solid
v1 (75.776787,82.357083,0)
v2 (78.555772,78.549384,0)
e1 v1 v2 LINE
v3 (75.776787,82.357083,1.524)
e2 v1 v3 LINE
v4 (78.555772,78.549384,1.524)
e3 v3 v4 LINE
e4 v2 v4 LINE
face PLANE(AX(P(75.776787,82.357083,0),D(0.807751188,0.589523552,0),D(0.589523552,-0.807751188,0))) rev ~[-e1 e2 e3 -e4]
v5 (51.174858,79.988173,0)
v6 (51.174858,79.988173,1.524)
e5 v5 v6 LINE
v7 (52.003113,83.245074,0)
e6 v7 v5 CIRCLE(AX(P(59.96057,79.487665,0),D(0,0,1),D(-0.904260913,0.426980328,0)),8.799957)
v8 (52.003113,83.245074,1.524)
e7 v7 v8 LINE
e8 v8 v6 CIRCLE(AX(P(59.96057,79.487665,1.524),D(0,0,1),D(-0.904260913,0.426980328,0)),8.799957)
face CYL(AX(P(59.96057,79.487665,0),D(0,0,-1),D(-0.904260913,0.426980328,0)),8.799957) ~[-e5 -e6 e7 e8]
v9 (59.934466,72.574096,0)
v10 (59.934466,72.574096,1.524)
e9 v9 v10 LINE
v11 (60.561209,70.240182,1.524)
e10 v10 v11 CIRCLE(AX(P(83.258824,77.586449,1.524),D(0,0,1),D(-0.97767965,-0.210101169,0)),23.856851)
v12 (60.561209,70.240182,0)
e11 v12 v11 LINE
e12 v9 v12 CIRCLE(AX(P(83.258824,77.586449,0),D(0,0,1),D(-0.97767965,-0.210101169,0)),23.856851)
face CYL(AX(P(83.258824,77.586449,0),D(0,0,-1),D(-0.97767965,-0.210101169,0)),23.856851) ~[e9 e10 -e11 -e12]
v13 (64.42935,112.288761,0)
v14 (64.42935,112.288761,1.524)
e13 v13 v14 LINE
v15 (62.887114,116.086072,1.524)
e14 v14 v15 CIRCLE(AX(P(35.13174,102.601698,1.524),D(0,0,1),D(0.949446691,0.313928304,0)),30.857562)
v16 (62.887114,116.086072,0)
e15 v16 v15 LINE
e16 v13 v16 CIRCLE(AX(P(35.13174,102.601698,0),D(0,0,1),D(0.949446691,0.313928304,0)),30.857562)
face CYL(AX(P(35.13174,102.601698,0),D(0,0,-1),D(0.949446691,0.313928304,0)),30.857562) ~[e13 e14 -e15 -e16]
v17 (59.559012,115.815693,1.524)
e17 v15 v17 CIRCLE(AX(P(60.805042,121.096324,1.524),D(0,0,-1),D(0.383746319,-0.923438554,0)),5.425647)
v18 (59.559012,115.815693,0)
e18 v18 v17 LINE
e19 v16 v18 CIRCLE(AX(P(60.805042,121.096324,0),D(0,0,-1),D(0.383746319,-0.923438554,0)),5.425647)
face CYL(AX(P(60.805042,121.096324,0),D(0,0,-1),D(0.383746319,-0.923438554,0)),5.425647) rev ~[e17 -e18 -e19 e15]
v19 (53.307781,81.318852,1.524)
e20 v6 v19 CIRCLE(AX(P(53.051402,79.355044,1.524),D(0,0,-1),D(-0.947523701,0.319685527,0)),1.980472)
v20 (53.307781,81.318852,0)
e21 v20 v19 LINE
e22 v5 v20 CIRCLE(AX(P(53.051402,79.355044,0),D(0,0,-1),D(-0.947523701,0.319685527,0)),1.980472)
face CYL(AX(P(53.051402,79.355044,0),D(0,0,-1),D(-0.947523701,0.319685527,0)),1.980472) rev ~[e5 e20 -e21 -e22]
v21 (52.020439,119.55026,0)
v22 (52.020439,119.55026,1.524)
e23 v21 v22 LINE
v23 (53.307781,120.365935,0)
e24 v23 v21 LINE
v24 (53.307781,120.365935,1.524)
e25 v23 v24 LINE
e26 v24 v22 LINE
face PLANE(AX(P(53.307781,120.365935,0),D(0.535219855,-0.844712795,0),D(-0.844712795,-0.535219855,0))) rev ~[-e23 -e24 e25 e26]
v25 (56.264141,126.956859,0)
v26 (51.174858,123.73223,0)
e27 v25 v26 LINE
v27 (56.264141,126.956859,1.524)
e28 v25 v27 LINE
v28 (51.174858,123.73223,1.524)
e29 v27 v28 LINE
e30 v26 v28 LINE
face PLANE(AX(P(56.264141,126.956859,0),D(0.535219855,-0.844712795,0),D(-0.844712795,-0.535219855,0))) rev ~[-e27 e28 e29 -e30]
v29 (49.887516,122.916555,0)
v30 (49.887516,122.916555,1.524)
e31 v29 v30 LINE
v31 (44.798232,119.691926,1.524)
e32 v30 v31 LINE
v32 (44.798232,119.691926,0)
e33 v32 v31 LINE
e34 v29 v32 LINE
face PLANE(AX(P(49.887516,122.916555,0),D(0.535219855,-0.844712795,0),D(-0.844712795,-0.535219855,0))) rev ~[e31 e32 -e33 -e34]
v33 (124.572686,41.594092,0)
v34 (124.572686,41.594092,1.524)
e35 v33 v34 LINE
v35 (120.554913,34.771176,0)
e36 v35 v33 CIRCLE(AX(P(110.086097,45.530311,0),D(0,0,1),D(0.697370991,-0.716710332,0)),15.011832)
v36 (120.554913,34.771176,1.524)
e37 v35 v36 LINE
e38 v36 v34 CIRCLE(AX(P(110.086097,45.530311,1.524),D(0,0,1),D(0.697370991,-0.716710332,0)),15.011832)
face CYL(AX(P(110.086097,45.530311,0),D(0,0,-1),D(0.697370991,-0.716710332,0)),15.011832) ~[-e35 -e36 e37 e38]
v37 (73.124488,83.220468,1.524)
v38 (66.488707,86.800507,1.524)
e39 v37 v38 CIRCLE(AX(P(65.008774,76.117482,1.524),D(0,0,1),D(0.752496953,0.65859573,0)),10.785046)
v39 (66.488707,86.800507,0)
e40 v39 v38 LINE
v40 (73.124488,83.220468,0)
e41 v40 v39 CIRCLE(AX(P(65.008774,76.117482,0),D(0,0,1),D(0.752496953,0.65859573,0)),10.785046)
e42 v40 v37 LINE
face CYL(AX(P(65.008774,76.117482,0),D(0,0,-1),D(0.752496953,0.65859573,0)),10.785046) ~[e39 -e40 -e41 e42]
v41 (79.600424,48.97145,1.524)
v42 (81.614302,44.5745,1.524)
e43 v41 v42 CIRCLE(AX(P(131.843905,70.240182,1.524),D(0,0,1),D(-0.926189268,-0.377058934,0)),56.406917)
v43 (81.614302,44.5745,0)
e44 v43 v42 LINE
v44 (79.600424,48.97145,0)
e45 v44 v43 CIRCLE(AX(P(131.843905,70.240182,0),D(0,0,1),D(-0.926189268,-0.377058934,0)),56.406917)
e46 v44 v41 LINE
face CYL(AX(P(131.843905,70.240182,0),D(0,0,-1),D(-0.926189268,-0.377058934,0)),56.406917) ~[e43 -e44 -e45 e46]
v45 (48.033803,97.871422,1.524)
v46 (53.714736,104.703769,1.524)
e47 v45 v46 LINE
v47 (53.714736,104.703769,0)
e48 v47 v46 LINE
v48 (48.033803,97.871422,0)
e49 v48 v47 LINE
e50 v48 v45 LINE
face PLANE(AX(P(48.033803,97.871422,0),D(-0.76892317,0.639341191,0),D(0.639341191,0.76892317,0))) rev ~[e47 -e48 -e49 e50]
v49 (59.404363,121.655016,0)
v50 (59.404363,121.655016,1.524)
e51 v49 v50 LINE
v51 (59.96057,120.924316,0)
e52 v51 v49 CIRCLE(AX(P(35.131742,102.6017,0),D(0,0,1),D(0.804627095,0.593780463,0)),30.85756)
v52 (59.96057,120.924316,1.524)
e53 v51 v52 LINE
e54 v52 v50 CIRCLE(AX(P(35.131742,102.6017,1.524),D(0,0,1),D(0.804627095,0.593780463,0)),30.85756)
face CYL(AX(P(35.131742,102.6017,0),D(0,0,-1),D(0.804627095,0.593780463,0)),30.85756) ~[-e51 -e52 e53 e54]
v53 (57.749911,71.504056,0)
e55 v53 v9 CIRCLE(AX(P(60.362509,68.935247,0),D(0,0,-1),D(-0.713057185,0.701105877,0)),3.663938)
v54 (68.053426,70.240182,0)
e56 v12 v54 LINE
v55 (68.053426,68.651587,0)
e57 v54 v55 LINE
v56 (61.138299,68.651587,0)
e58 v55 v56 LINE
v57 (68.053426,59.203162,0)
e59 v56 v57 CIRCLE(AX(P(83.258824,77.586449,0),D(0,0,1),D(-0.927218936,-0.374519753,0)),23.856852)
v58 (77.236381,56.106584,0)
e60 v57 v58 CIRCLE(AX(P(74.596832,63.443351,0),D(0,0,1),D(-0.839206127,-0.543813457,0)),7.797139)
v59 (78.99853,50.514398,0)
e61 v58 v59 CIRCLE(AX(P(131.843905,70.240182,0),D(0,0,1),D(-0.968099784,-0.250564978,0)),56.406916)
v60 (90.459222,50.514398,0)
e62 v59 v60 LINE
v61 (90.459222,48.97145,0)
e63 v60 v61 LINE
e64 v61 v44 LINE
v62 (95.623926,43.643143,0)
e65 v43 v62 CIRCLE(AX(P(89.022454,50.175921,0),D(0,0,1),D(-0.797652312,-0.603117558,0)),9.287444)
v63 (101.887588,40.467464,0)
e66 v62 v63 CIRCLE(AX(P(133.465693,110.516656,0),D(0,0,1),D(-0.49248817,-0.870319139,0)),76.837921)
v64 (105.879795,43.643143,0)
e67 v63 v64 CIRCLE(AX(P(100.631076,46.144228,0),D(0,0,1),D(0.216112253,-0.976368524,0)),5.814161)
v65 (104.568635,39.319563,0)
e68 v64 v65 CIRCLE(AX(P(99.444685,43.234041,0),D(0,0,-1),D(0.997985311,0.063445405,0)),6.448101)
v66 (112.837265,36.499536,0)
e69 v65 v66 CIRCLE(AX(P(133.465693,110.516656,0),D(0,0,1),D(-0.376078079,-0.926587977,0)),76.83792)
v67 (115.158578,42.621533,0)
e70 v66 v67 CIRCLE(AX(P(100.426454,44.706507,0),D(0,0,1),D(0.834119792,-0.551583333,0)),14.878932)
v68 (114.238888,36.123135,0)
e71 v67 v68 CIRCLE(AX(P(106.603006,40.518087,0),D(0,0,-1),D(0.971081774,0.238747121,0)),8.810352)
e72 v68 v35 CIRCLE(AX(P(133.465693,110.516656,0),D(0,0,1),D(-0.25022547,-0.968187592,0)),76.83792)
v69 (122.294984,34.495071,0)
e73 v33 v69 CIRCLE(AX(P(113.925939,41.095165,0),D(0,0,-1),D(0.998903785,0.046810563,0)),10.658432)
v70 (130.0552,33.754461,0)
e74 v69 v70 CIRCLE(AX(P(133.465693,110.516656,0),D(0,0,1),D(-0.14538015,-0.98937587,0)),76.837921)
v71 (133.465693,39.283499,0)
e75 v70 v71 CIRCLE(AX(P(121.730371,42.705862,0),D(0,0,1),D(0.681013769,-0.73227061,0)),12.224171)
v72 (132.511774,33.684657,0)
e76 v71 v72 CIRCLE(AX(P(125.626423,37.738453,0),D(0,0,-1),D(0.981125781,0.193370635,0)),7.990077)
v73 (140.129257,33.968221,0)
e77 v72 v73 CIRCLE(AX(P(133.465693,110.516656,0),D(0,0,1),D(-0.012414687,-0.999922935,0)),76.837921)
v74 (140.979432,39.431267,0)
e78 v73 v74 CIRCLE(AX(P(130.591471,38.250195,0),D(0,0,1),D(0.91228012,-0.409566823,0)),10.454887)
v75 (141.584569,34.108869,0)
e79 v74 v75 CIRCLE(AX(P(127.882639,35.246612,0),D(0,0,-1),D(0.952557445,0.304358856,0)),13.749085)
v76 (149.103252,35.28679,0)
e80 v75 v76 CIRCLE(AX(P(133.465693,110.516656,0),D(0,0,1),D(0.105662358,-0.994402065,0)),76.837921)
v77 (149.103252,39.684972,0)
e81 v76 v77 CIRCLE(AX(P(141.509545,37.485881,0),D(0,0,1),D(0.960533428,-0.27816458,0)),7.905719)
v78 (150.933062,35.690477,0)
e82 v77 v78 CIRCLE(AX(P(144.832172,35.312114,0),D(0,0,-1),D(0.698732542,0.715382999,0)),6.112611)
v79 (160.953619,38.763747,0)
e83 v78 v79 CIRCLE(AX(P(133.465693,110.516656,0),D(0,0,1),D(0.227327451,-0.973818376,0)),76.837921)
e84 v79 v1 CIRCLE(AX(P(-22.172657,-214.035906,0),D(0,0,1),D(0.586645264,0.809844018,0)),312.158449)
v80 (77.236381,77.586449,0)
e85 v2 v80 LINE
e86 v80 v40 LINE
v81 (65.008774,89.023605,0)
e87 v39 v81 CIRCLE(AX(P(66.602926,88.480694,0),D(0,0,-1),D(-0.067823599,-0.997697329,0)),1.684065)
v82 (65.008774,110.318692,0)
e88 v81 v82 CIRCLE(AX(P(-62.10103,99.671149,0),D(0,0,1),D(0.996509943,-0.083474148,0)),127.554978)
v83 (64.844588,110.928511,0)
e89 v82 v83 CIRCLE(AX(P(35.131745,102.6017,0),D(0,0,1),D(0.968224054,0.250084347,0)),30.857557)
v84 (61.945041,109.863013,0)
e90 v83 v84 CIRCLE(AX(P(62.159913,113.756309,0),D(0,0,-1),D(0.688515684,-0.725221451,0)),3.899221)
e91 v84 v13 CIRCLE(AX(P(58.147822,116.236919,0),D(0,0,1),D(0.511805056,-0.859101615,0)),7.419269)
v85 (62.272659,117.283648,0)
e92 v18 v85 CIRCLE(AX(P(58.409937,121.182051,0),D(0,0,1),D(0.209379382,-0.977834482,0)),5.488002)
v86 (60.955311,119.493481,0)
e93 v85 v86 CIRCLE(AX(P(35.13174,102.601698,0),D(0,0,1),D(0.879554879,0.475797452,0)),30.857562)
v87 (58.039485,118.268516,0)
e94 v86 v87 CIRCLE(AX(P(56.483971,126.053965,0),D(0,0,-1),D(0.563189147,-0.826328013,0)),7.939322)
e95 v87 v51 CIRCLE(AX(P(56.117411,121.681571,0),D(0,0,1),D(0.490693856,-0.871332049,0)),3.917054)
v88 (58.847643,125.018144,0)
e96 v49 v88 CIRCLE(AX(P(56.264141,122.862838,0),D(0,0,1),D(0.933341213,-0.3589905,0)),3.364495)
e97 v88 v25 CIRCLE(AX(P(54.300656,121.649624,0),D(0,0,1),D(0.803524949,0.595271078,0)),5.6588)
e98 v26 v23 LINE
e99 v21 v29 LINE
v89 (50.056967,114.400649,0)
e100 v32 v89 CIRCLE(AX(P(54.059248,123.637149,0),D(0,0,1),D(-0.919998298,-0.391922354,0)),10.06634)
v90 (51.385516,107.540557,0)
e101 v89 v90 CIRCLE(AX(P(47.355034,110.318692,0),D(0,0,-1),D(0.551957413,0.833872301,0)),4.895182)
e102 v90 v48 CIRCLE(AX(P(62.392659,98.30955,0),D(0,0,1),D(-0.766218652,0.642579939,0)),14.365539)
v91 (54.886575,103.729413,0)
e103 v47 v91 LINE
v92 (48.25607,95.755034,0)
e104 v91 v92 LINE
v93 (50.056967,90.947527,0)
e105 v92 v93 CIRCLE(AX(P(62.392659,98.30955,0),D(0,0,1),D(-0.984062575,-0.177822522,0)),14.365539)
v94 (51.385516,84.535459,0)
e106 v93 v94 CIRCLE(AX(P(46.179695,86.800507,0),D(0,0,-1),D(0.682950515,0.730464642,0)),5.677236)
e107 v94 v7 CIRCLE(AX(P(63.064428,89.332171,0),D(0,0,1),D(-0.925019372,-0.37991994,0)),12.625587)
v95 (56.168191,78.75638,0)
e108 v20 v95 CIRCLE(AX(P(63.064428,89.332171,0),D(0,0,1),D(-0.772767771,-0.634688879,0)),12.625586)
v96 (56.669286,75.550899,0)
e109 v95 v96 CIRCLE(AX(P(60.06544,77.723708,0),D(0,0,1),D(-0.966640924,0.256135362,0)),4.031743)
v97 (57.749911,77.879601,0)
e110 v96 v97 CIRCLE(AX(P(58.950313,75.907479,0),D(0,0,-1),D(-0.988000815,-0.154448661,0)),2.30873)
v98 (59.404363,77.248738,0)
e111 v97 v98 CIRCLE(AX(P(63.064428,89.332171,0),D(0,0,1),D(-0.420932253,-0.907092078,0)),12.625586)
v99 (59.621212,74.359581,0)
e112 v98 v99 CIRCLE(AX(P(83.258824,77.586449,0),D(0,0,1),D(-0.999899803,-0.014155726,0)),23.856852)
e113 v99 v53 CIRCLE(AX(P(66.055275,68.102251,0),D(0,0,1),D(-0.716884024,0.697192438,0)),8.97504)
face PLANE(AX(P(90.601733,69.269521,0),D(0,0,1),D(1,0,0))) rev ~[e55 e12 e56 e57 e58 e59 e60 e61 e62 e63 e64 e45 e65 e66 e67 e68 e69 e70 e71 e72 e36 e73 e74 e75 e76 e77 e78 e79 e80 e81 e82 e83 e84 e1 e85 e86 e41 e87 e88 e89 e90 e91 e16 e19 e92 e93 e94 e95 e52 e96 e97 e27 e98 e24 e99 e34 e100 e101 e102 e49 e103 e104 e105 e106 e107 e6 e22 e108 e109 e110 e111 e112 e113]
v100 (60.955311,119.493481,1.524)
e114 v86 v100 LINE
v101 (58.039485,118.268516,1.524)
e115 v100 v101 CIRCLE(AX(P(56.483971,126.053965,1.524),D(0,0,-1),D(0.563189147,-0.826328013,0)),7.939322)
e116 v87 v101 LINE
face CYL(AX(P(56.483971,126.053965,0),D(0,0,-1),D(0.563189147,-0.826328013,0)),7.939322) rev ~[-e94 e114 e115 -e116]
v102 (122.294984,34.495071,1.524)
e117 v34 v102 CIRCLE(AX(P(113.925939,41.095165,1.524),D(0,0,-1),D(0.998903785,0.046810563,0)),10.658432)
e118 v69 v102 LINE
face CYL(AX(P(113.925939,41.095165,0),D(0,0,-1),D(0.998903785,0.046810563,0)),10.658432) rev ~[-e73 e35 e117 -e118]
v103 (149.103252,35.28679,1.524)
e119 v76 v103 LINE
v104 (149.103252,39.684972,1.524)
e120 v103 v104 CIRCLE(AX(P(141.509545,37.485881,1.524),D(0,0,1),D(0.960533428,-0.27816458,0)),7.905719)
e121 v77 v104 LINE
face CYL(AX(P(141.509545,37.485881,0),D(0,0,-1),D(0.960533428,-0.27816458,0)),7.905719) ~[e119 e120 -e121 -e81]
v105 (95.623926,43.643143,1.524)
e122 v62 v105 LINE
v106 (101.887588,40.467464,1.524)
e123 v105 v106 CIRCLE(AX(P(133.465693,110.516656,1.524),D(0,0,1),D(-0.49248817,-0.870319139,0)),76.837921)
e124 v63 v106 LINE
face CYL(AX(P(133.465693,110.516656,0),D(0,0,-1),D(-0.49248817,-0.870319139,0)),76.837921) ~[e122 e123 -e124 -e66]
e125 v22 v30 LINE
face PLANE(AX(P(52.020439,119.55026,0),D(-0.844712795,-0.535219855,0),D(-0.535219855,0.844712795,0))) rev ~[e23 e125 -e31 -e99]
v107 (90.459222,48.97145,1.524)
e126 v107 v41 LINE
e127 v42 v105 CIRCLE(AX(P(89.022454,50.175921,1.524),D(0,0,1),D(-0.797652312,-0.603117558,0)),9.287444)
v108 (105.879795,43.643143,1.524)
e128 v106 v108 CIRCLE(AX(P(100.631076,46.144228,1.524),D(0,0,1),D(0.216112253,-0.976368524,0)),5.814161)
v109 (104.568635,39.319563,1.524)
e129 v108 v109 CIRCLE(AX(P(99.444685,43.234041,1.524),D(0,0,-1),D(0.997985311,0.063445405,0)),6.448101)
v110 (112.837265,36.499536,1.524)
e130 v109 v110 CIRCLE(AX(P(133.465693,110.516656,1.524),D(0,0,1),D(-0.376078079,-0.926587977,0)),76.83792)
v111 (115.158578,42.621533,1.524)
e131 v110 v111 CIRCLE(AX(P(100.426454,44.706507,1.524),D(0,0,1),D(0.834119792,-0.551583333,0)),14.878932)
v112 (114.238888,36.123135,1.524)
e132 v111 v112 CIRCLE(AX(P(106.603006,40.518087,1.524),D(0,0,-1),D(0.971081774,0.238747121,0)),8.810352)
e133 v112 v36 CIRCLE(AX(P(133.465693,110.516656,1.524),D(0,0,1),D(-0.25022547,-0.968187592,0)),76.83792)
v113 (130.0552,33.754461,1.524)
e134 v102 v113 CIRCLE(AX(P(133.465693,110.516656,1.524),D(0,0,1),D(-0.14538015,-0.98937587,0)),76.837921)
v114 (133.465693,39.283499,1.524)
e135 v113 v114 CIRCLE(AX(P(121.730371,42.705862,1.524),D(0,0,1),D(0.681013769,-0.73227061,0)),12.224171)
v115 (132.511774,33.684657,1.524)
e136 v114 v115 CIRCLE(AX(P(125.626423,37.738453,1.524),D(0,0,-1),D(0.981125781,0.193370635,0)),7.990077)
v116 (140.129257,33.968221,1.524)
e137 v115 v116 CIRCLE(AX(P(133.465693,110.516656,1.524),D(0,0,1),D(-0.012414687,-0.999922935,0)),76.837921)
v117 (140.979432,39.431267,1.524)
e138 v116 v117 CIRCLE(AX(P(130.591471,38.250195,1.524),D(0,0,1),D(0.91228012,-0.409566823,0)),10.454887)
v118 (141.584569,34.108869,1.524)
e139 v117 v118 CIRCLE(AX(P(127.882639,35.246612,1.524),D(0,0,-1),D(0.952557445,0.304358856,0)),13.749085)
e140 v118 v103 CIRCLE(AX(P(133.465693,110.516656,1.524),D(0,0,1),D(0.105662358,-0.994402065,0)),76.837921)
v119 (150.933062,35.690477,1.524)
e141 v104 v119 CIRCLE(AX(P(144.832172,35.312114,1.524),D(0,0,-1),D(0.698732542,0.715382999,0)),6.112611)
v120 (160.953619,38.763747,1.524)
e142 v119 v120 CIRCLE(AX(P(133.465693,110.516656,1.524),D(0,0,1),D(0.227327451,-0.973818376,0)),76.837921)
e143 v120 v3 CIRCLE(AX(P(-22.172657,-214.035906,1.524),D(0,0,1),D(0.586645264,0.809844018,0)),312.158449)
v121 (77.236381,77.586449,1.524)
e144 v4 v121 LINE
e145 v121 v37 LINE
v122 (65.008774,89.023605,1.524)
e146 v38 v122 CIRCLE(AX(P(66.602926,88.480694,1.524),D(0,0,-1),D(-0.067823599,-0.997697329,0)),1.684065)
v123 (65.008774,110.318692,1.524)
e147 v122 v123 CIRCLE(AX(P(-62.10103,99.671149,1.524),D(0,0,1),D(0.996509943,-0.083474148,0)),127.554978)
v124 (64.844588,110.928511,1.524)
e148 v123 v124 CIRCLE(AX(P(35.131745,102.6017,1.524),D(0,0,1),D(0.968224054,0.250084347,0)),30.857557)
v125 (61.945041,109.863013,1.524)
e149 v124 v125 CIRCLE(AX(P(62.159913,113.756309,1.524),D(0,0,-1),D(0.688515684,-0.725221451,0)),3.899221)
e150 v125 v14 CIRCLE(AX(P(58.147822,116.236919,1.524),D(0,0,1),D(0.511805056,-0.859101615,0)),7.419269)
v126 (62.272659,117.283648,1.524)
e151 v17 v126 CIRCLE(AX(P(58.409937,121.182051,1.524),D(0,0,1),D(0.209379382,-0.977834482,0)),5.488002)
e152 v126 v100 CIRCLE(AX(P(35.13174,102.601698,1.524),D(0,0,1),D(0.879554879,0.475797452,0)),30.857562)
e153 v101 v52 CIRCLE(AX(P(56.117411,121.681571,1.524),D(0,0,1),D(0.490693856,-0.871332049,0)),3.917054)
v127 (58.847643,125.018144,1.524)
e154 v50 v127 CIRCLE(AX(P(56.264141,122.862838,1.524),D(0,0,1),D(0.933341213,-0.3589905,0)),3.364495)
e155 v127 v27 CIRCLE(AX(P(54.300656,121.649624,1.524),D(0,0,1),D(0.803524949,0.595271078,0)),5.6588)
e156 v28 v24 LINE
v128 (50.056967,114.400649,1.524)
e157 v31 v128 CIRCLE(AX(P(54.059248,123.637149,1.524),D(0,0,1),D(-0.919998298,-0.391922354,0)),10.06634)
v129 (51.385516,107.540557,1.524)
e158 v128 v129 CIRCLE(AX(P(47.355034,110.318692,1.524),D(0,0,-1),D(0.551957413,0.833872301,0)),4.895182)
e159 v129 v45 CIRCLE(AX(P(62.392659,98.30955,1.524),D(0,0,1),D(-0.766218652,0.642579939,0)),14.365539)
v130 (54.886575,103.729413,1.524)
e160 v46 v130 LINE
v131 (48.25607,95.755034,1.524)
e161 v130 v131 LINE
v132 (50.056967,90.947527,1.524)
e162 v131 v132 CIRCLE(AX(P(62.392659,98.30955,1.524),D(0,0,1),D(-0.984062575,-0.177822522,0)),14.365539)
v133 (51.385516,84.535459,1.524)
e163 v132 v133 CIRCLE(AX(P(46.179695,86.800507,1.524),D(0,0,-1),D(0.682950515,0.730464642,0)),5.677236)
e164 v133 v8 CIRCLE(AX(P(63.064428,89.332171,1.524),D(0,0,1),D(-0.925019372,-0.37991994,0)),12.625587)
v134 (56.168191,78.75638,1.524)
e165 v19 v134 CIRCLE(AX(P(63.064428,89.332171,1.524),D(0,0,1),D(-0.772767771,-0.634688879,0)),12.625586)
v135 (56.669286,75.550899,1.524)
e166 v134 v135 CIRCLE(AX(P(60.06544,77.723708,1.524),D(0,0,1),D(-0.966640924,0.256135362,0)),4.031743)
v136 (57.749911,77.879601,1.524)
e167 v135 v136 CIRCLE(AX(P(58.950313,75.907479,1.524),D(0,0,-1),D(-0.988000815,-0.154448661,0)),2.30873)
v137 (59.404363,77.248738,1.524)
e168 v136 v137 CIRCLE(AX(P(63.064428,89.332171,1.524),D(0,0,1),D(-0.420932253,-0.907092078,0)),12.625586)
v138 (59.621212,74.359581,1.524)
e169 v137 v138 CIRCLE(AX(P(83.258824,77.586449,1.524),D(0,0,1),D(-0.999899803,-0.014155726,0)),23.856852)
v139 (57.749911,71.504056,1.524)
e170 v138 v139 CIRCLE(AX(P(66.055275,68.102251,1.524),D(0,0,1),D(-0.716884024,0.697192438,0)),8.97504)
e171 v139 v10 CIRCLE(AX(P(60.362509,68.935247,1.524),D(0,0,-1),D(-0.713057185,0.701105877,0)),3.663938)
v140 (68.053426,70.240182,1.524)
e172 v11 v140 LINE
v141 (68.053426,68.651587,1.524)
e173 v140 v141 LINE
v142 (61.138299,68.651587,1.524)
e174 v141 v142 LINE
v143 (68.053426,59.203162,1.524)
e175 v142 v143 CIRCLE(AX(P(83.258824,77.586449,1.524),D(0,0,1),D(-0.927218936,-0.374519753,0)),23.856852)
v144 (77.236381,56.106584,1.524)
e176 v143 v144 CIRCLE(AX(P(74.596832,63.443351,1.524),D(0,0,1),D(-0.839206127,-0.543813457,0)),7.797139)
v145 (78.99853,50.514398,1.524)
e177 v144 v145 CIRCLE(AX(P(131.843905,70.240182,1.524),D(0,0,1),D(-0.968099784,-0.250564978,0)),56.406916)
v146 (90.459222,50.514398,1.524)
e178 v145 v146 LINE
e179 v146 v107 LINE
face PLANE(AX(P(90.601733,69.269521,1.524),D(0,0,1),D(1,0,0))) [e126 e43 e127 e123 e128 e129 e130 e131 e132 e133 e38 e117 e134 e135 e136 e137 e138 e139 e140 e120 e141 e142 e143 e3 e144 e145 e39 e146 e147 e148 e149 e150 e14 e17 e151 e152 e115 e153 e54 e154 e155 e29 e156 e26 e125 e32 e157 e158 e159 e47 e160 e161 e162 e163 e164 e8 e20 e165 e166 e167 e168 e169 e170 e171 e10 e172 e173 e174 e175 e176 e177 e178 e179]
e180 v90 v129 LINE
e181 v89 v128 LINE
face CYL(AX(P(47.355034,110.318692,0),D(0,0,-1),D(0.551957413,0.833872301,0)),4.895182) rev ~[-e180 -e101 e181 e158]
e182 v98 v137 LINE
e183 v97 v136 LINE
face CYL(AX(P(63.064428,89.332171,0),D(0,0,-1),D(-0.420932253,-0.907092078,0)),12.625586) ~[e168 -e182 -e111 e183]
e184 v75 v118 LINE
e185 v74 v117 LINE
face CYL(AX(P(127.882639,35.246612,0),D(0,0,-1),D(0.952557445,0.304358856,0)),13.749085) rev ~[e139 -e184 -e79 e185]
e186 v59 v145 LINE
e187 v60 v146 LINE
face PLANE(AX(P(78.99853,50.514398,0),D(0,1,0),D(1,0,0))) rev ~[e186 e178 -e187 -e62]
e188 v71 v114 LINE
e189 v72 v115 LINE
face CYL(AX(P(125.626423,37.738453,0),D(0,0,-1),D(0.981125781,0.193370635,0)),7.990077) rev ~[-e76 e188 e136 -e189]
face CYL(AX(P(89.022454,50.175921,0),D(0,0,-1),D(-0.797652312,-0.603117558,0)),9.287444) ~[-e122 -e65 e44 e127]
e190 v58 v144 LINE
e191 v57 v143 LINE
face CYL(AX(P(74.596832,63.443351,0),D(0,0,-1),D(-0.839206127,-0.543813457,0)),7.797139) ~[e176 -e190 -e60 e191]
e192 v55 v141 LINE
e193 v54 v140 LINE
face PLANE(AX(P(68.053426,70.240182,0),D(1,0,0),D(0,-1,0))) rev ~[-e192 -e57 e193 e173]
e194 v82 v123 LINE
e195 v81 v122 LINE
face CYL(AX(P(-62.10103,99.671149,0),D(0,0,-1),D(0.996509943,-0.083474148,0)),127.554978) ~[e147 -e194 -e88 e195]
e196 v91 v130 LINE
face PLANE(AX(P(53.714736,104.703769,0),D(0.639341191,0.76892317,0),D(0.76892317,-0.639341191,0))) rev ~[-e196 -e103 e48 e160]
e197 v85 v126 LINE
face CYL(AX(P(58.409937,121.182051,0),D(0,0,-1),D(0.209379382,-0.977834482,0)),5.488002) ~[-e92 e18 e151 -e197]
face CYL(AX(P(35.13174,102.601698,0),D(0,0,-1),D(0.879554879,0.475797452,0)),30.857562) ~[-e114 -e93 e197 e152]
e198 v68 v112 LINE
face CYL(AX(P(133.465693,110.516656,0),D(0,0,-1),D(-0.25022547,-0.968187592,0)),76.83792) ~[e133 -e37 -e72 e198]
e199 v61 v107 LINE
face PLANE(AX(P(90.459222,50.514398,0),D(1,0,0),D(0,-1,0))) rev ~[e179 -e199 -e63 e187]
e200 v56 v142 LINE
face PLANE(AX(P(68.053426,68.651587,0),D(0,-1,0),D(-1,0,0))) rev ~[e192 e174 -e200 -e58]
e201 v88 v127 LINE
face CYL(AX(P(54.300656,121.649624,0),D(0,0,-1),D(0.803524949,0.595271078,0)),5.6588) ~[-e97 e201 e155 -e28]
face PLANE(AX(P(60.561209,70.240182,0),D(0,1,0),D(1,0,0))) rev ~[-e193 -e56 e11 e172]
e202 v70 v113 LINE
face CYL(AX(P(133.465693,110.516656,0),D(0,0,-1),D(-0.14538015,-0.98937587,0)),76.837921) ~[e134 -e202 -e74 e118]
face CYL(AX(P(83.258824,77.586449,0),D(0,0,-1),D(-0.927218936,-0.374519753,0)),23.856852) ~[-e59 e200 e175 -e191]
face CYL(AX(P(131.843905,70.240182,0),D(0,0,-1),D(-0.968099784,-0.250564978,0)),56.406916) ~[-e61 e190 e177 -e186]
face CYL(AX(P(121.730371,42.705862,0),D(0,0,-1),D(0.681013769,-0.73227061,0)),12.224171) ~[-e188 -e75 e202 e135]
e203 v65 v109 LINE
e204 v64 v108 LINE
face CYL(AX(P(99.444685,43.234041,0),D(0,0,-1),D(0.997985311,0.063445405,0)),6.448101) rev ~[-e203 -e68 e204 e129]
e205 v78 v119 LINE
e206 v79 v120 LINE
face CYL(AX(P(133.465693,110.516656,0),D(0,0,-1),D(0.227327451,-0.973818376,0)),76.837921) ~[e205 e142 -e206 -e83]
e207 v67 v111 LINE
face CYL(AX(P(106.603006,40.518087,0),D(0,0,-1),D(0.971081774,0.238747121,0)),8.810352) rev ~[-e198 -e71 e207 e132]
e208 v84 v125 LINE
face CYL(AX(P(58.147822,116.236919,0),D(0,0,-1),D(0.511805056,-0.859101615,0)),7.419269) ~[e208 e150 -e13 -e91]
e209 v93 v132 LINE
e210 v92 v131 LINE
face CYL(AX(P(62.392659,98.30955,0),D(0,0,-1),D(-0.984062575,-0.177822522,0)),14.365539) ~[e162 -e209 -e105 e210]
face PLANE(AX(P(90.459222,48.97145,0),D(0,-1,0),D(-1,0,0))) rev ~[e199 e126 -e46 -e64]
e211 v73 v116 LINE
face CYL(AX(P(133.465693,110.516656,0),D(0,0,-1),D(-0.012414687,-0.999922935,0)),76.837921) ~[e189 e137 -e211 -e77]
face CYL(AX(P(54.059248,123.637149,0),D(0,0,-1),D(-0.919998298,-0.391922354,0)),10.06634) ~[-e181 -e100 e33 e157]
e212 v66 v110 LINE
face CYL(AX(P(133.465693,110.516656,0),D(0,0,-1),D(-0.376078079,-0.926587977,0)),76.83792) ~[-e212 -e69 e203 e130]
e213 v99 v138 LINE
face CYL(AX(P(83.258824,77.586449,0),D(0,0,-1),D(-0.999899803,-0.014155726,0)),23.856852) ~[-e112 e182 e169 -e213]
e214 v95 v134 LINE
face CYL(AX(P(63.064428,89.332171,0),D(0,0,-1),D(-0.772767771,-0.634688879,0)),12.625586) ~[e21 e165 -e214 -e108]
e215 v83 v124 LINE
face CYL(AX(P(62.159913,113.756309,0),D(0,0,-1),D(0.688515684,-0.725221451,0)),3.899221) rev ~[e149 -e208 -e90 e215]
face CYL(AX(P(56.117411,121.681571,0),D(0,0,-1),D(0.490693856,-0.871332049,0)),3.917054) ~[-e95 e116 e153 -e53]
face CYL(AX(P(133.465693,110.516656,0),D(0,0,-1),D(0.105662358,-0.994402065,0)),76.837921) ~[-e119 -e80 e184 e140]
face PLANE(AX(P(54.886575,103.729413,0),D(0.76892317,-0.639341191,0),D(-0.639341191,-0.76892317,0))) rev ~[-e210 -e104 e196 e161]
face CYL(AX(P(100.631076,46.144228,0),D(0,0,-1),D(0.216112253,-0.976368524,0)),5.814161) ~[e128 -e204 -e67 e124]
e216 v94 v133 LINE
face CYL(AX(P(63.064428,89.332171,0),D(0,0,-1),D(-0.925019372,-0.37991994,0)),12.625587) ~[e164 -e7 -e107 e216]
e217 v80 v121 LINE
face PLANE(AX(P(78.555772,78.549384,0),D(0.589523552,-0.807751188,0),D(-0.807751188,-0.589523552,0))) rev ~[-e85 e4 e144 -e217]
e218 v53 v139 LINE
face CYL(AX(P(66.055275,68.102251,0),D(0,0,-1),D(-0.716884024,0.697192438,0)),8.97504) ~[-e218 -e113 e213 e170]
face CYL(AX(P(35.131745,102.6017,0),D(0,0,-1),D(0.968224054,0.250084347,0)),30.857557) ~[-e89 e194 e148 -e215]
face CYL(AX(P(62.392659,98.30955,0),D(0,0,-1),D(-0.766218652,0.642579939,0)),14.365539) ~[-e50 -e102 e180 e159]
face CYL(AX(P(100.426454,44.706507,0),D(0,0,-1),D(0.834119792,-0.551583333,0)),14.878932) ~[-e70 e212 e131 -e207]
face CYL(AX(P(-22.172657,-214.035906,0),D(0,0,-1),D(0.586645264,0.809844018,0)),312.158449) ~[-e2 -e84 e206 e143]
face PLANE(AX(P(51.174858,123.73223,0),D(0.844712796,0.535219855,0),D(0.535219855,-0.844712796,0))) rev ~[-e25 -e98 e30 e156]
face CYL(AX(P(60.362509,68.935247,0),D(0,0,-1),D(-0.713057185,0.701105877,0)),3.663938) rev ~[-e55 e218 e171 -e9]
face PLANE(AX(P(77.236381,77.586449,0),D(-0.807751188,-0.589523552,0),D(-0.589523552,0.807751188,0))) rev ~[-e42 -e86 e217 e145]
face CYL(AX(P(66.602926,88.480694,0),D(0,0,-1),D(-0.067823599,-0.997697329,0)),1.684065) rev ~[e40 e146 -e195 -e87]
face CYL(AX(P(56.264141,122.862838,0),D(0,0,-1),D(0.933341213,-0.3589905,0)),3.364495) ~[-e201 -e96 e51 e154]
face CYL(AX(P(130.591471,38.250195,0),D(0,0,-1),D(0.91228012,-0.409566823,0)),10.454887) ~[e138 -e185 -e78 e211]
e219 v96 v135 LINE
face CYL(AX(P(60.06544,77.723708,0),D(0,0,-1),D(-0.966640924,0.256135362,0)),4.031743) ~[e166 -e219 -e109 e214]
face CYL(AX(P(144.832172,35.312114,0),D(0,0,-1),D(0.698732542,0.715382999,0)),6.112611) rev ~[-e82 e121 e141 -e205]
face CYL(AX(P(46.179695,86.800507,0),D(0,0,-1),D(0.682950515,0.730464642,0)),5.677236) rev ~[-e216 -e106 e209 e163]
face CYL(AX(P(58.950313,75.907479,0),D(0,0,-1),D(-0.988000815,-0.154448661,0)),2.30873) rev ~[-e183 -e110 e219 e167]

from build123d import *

# Parameters (mm, degrees)
BOSS_EXTRUDE1_DEPTH = 1.524


with BuildPart() as part:
    # Sketch1 → Boss-Extrude1 (new body)
    with BuildSketch(Plane.XY):
        with BuildLine():
            Line((56.264141338, 126.956858816), (51.174858052, 123.732229714))
            Line((51.174858052, 123.732229714), (53.307781304, 120.365935384))
            Line((53.307781304, 120.365935384), (52.020439004, 119.550260325))
            Line((52.020439004, 119.550260325), (49.887515751, 122.916554654))
            Line((49.887515751, 122.916554654), (44.798232465, 119.691925553))
            ThreePointArc((44.798232465, 119.691925553), (46.919348528, 116.541161993), (50.056966547, 114.400648613))
            ThreePointArc((50.056966547, 114.400648613), (52.160922541, 111.249416579), (51.38551555, 107.540557165))
            ThreePointArc((51.38551555, 107.540557165), (48.819467631, 103.01456573), (48.033803289, 97.871421561))
            Line((48.033803289, 97.871421561), (53.714736294, 104.703768794))
            Line((53.714736294, 104.703768794), (54.886575206, 103.729412819))
            Line((54.886575206, 103.729412819), (48.256070281, 95.755033975))
            ThreePointArc((48.256070281, 95.755033975), (48.940021774, 93.270180673), (50.056966547, 90.947527029))
            ThreePointArc((50.056966547, 90.947527029), (51.738858239, 87.952338233), (51.38551555, 84.535458878))
            ThreePointArc((51.38551555, 84.535458878), (51.676023362, 83.881512061), (52.003112941, 83.245073819))
            ThreePointArc((52.003112941, 83.245073819), (51.432071992, 81.656527536), (51.174858052, 79.988172643))
            ThreePointArc((51.174858052, 79.988172643), (52.003112941, 81.035329758), (53.307781304, 81.318851624))
            ThreePointArc((53.307781304, 81.318851624), (54.639987623, 79.928222594), (56.168191464, 78.75637969))
            ThreePointArc((56.168191464, 78.75637969), (56.082073865, 77.101010294), (56.669286419, 75.550898847))
            ThreePointArc((56.669286419, 75.550898847), (56.856082806, 76.879297739), (57.74991105, 77.879601482))
            ThreePointArc((57.74991105, 77.879601482), (58.566064016, 77.535130701), (59.404362787, 77.2487377))
            ThreePointArc((59.404362787, 77.2487377), (59.468887944, 75.800864539), (59.621212135, 74.359581247))
            ThreePointArc((59.621212135, 74.359581247), (58.548532564, 73.021617268), (57.74991105, 71.50405582))
            ThreePointArc((57.74991105, 71.50405582), (58.750795137, 72.225661043), (59.934465672, 72.574096285))
            ThreePointArc((59.934465672, 72.574096285), (60.218266334, 71.399198054), (60.56120896, 70.240181651))
            Line((60.56120896, 70.240181651), (68.053425724, 70.240181651))
            Line((68.053425724, 70.240181651), (68.053425724, 68.651586531))
            Line((68.053425724, 68.651586531), (61.138299457, 68.651586531))
            ThreePointArc((61.138299457, 68.651586531), (64.007218606, 63.496556651), (68.053425724, 59.203161944))
            ThreePointArc((68.053425724, 59.203161944), (72.105402023, 56.054971734), (77.236381434, 56.106583856))
            ThreePointArc((77.236381434, 56.106583856), (78.044746131, 53.287579438), (78.998529881, 50.51439788))
            Line((78.998529881, 50.51439788), (90.459222019, 50.51439788))
            Line((90.459222019, 50.51439788), (90.459222019, 48.97144986))
            Line((90.459222019, 48.97144986), (79.600424402, 48.97144986))
            ThreePointArc((79.600424402, 48.97144986), (80.560218525, 46.751381797), (81.614302179, 44.574499941))
            ThreePointArc((81.614302179, 44.574499941), (88.40638605, 40.908931841), (95.623925921, 43.643143066))
            ThreePointArc((95.623925921, 43.643143066), (98.719457239, 41.9837065), (101.887587861, 40.467463703))
            ThreePointArc((101.887587861, 40.467463703), (104.250570747, 41.59409239), (105.879794993, 43.643143066))
            ThreePointArc((105.879794993, 43.643143066), (105.615285106, 41.362757758), (104.568635279, 39.319562522))
            ThreePointArc((104.568635279, 39.319562522), (108.662838982, 37.791938771), (112.83726515, 36.499536179))
            ThreePointArc((112.83726515, 36.499536179), (114.338838664, 39.431267188), (115.158578251, 42.621533122))
            ThreePointArc((115.158578251, 42.621533122), (115.32642817, 39.283498881), (114.23888805, 36.123134554))
            ThreePointArc((114.23888805, 36.123134554), (117.382688145, 35.380759015), (120.554912672, 34.771175532))
            ThreePointArc((120.554912672, 34.771175532), (123.021749605, 37.9129634), (124.572686361, 41.59409239))
            ThreePointArc((124.572686361, 41.59409239), (124.074787113, 37.838934231), (122.294984417, 34.495071372))
            ThreePointArc((122.294984417, 34.495071372), (126.165693737, 34.02629014), (130.055199537, 33.754460929))
            ThreePointArc((130.055199537, 33.754460929), (132.134455488, 36.288278623), (133.465692892, 39.283498881))
            ThreePointArc((133.465692892, 39.283498881), (133.502994203, 36.396459224), (132.511774167, 33.684656833))
            ThreePointArc((132.511774167, 33.684656833), (136.324034113, 33.731918308), (140.129256944, 33.968220541))
            ThreePointArc((140.129256944, 33.968220541), (140.922011669, 36.642526439), (140.979432276, 39.431267188))
            ThreePointArc((140.979432276, 39.431267188), (141.543710337, 36.799823517), (141.584568778, 34.108869018))
            ThreePointArc((141.584568778, 34.108869018), (145.358502787, 34.60468639), (149.103252173, 35.286789609))
            ThreePointArc((149.103252173, 35.286789609), (149.41526381, 37.485880685), (149.103252173, 39.68497176))
            ThreePointArc((149.103252173, 39.68497176), (150.389458807, 37.857811323), (150.933061601, 35.690476839))
            ThreePointArc((150.933061601, 35.690476839), (155.995803512, 37.056053135), (160.953619193, 38.763746888))
            ThreePointArc((160.953619193, 38.763746888), (120.045431958, 63.84340718), (75.776786754, 82.357083072))
            Line((75.776786754, 82.357083072), (78.55577188, 78.549383563))
            Line((78.55577188, 78.549383563), (77.236381434, 77.586448747))
            Line((77.236381434, 77.586448747), (73.124487989, 83.220467621))
            ThreePointArc((73.124487989, 83.220467621), (70.129640963, 85.609264926), (66.488706533, 86.800507029))
            ThreePointArc((66.488706533, 86.800507029), (65.201078968, 87.547474126), (65.008773799, 89.023605324))
            ThreePointArc((65.008773799, 89.023605324), (65.45394794, 99.671148502), (65.008773799, 110.31869168))
            ThreePointArc((65.008773799, 110.31869168), (64.928240982, 110.624021202), (64.844587925, 110.928510639))
            ThreePointArc((64.844587925, 110.928510639), (63.504830628, 110.096374776), (61.945041493, 109.863013337))
            ThreePointArc((61.945041493, 109.863013337), (63.331098083, 110.928510639), (64.429350166, 112.288760519))
            ThreePointArc((64.429350166, 112.288760519), (63.72134744, 114.213049759), (62.887114334, 116.086071934))
            ThreePointArc((62.887114334, 116.086071934), (61.244379947, 115.688493307), (59.559011987, 115.815693414))
            ThreePointArc((59.559011987, 115.815693414), (61.021114976, 116.355052106), (62.272659221, 117.283647794))
            ThreePointArc((62.272659221, 117.283647794), (61.637025251, 118.402299275), (60.955310984, 119.493480899))
            ThreePointArc((60.955310984, 119.493480899), (59.559011987, 118.734336878), (58.039485129, 118.268516457))
            ThreePointArc((58.039485129, 118.268516457), (59.291178035, 119.385811258), (59.960570457, 120.924315918))
            ThreePointArc((59.960570457, 120.924315918), (59.685184939, 121.291735218), (59.404362787, 121.655016161))
            ThreePointArc((59.404362787, 121.655016161), (59.583464699, 123.412306739), (58.847642556, 125.018144041))
            ThreePointArc((58.847642556, 125.018144041), (57.697156367, 126.175748202), (56.264141338, 126.956858816))
        make_face()
    extrude(amount=BOSS_EXTRUDE1_DEPTH)


solid = part.part
